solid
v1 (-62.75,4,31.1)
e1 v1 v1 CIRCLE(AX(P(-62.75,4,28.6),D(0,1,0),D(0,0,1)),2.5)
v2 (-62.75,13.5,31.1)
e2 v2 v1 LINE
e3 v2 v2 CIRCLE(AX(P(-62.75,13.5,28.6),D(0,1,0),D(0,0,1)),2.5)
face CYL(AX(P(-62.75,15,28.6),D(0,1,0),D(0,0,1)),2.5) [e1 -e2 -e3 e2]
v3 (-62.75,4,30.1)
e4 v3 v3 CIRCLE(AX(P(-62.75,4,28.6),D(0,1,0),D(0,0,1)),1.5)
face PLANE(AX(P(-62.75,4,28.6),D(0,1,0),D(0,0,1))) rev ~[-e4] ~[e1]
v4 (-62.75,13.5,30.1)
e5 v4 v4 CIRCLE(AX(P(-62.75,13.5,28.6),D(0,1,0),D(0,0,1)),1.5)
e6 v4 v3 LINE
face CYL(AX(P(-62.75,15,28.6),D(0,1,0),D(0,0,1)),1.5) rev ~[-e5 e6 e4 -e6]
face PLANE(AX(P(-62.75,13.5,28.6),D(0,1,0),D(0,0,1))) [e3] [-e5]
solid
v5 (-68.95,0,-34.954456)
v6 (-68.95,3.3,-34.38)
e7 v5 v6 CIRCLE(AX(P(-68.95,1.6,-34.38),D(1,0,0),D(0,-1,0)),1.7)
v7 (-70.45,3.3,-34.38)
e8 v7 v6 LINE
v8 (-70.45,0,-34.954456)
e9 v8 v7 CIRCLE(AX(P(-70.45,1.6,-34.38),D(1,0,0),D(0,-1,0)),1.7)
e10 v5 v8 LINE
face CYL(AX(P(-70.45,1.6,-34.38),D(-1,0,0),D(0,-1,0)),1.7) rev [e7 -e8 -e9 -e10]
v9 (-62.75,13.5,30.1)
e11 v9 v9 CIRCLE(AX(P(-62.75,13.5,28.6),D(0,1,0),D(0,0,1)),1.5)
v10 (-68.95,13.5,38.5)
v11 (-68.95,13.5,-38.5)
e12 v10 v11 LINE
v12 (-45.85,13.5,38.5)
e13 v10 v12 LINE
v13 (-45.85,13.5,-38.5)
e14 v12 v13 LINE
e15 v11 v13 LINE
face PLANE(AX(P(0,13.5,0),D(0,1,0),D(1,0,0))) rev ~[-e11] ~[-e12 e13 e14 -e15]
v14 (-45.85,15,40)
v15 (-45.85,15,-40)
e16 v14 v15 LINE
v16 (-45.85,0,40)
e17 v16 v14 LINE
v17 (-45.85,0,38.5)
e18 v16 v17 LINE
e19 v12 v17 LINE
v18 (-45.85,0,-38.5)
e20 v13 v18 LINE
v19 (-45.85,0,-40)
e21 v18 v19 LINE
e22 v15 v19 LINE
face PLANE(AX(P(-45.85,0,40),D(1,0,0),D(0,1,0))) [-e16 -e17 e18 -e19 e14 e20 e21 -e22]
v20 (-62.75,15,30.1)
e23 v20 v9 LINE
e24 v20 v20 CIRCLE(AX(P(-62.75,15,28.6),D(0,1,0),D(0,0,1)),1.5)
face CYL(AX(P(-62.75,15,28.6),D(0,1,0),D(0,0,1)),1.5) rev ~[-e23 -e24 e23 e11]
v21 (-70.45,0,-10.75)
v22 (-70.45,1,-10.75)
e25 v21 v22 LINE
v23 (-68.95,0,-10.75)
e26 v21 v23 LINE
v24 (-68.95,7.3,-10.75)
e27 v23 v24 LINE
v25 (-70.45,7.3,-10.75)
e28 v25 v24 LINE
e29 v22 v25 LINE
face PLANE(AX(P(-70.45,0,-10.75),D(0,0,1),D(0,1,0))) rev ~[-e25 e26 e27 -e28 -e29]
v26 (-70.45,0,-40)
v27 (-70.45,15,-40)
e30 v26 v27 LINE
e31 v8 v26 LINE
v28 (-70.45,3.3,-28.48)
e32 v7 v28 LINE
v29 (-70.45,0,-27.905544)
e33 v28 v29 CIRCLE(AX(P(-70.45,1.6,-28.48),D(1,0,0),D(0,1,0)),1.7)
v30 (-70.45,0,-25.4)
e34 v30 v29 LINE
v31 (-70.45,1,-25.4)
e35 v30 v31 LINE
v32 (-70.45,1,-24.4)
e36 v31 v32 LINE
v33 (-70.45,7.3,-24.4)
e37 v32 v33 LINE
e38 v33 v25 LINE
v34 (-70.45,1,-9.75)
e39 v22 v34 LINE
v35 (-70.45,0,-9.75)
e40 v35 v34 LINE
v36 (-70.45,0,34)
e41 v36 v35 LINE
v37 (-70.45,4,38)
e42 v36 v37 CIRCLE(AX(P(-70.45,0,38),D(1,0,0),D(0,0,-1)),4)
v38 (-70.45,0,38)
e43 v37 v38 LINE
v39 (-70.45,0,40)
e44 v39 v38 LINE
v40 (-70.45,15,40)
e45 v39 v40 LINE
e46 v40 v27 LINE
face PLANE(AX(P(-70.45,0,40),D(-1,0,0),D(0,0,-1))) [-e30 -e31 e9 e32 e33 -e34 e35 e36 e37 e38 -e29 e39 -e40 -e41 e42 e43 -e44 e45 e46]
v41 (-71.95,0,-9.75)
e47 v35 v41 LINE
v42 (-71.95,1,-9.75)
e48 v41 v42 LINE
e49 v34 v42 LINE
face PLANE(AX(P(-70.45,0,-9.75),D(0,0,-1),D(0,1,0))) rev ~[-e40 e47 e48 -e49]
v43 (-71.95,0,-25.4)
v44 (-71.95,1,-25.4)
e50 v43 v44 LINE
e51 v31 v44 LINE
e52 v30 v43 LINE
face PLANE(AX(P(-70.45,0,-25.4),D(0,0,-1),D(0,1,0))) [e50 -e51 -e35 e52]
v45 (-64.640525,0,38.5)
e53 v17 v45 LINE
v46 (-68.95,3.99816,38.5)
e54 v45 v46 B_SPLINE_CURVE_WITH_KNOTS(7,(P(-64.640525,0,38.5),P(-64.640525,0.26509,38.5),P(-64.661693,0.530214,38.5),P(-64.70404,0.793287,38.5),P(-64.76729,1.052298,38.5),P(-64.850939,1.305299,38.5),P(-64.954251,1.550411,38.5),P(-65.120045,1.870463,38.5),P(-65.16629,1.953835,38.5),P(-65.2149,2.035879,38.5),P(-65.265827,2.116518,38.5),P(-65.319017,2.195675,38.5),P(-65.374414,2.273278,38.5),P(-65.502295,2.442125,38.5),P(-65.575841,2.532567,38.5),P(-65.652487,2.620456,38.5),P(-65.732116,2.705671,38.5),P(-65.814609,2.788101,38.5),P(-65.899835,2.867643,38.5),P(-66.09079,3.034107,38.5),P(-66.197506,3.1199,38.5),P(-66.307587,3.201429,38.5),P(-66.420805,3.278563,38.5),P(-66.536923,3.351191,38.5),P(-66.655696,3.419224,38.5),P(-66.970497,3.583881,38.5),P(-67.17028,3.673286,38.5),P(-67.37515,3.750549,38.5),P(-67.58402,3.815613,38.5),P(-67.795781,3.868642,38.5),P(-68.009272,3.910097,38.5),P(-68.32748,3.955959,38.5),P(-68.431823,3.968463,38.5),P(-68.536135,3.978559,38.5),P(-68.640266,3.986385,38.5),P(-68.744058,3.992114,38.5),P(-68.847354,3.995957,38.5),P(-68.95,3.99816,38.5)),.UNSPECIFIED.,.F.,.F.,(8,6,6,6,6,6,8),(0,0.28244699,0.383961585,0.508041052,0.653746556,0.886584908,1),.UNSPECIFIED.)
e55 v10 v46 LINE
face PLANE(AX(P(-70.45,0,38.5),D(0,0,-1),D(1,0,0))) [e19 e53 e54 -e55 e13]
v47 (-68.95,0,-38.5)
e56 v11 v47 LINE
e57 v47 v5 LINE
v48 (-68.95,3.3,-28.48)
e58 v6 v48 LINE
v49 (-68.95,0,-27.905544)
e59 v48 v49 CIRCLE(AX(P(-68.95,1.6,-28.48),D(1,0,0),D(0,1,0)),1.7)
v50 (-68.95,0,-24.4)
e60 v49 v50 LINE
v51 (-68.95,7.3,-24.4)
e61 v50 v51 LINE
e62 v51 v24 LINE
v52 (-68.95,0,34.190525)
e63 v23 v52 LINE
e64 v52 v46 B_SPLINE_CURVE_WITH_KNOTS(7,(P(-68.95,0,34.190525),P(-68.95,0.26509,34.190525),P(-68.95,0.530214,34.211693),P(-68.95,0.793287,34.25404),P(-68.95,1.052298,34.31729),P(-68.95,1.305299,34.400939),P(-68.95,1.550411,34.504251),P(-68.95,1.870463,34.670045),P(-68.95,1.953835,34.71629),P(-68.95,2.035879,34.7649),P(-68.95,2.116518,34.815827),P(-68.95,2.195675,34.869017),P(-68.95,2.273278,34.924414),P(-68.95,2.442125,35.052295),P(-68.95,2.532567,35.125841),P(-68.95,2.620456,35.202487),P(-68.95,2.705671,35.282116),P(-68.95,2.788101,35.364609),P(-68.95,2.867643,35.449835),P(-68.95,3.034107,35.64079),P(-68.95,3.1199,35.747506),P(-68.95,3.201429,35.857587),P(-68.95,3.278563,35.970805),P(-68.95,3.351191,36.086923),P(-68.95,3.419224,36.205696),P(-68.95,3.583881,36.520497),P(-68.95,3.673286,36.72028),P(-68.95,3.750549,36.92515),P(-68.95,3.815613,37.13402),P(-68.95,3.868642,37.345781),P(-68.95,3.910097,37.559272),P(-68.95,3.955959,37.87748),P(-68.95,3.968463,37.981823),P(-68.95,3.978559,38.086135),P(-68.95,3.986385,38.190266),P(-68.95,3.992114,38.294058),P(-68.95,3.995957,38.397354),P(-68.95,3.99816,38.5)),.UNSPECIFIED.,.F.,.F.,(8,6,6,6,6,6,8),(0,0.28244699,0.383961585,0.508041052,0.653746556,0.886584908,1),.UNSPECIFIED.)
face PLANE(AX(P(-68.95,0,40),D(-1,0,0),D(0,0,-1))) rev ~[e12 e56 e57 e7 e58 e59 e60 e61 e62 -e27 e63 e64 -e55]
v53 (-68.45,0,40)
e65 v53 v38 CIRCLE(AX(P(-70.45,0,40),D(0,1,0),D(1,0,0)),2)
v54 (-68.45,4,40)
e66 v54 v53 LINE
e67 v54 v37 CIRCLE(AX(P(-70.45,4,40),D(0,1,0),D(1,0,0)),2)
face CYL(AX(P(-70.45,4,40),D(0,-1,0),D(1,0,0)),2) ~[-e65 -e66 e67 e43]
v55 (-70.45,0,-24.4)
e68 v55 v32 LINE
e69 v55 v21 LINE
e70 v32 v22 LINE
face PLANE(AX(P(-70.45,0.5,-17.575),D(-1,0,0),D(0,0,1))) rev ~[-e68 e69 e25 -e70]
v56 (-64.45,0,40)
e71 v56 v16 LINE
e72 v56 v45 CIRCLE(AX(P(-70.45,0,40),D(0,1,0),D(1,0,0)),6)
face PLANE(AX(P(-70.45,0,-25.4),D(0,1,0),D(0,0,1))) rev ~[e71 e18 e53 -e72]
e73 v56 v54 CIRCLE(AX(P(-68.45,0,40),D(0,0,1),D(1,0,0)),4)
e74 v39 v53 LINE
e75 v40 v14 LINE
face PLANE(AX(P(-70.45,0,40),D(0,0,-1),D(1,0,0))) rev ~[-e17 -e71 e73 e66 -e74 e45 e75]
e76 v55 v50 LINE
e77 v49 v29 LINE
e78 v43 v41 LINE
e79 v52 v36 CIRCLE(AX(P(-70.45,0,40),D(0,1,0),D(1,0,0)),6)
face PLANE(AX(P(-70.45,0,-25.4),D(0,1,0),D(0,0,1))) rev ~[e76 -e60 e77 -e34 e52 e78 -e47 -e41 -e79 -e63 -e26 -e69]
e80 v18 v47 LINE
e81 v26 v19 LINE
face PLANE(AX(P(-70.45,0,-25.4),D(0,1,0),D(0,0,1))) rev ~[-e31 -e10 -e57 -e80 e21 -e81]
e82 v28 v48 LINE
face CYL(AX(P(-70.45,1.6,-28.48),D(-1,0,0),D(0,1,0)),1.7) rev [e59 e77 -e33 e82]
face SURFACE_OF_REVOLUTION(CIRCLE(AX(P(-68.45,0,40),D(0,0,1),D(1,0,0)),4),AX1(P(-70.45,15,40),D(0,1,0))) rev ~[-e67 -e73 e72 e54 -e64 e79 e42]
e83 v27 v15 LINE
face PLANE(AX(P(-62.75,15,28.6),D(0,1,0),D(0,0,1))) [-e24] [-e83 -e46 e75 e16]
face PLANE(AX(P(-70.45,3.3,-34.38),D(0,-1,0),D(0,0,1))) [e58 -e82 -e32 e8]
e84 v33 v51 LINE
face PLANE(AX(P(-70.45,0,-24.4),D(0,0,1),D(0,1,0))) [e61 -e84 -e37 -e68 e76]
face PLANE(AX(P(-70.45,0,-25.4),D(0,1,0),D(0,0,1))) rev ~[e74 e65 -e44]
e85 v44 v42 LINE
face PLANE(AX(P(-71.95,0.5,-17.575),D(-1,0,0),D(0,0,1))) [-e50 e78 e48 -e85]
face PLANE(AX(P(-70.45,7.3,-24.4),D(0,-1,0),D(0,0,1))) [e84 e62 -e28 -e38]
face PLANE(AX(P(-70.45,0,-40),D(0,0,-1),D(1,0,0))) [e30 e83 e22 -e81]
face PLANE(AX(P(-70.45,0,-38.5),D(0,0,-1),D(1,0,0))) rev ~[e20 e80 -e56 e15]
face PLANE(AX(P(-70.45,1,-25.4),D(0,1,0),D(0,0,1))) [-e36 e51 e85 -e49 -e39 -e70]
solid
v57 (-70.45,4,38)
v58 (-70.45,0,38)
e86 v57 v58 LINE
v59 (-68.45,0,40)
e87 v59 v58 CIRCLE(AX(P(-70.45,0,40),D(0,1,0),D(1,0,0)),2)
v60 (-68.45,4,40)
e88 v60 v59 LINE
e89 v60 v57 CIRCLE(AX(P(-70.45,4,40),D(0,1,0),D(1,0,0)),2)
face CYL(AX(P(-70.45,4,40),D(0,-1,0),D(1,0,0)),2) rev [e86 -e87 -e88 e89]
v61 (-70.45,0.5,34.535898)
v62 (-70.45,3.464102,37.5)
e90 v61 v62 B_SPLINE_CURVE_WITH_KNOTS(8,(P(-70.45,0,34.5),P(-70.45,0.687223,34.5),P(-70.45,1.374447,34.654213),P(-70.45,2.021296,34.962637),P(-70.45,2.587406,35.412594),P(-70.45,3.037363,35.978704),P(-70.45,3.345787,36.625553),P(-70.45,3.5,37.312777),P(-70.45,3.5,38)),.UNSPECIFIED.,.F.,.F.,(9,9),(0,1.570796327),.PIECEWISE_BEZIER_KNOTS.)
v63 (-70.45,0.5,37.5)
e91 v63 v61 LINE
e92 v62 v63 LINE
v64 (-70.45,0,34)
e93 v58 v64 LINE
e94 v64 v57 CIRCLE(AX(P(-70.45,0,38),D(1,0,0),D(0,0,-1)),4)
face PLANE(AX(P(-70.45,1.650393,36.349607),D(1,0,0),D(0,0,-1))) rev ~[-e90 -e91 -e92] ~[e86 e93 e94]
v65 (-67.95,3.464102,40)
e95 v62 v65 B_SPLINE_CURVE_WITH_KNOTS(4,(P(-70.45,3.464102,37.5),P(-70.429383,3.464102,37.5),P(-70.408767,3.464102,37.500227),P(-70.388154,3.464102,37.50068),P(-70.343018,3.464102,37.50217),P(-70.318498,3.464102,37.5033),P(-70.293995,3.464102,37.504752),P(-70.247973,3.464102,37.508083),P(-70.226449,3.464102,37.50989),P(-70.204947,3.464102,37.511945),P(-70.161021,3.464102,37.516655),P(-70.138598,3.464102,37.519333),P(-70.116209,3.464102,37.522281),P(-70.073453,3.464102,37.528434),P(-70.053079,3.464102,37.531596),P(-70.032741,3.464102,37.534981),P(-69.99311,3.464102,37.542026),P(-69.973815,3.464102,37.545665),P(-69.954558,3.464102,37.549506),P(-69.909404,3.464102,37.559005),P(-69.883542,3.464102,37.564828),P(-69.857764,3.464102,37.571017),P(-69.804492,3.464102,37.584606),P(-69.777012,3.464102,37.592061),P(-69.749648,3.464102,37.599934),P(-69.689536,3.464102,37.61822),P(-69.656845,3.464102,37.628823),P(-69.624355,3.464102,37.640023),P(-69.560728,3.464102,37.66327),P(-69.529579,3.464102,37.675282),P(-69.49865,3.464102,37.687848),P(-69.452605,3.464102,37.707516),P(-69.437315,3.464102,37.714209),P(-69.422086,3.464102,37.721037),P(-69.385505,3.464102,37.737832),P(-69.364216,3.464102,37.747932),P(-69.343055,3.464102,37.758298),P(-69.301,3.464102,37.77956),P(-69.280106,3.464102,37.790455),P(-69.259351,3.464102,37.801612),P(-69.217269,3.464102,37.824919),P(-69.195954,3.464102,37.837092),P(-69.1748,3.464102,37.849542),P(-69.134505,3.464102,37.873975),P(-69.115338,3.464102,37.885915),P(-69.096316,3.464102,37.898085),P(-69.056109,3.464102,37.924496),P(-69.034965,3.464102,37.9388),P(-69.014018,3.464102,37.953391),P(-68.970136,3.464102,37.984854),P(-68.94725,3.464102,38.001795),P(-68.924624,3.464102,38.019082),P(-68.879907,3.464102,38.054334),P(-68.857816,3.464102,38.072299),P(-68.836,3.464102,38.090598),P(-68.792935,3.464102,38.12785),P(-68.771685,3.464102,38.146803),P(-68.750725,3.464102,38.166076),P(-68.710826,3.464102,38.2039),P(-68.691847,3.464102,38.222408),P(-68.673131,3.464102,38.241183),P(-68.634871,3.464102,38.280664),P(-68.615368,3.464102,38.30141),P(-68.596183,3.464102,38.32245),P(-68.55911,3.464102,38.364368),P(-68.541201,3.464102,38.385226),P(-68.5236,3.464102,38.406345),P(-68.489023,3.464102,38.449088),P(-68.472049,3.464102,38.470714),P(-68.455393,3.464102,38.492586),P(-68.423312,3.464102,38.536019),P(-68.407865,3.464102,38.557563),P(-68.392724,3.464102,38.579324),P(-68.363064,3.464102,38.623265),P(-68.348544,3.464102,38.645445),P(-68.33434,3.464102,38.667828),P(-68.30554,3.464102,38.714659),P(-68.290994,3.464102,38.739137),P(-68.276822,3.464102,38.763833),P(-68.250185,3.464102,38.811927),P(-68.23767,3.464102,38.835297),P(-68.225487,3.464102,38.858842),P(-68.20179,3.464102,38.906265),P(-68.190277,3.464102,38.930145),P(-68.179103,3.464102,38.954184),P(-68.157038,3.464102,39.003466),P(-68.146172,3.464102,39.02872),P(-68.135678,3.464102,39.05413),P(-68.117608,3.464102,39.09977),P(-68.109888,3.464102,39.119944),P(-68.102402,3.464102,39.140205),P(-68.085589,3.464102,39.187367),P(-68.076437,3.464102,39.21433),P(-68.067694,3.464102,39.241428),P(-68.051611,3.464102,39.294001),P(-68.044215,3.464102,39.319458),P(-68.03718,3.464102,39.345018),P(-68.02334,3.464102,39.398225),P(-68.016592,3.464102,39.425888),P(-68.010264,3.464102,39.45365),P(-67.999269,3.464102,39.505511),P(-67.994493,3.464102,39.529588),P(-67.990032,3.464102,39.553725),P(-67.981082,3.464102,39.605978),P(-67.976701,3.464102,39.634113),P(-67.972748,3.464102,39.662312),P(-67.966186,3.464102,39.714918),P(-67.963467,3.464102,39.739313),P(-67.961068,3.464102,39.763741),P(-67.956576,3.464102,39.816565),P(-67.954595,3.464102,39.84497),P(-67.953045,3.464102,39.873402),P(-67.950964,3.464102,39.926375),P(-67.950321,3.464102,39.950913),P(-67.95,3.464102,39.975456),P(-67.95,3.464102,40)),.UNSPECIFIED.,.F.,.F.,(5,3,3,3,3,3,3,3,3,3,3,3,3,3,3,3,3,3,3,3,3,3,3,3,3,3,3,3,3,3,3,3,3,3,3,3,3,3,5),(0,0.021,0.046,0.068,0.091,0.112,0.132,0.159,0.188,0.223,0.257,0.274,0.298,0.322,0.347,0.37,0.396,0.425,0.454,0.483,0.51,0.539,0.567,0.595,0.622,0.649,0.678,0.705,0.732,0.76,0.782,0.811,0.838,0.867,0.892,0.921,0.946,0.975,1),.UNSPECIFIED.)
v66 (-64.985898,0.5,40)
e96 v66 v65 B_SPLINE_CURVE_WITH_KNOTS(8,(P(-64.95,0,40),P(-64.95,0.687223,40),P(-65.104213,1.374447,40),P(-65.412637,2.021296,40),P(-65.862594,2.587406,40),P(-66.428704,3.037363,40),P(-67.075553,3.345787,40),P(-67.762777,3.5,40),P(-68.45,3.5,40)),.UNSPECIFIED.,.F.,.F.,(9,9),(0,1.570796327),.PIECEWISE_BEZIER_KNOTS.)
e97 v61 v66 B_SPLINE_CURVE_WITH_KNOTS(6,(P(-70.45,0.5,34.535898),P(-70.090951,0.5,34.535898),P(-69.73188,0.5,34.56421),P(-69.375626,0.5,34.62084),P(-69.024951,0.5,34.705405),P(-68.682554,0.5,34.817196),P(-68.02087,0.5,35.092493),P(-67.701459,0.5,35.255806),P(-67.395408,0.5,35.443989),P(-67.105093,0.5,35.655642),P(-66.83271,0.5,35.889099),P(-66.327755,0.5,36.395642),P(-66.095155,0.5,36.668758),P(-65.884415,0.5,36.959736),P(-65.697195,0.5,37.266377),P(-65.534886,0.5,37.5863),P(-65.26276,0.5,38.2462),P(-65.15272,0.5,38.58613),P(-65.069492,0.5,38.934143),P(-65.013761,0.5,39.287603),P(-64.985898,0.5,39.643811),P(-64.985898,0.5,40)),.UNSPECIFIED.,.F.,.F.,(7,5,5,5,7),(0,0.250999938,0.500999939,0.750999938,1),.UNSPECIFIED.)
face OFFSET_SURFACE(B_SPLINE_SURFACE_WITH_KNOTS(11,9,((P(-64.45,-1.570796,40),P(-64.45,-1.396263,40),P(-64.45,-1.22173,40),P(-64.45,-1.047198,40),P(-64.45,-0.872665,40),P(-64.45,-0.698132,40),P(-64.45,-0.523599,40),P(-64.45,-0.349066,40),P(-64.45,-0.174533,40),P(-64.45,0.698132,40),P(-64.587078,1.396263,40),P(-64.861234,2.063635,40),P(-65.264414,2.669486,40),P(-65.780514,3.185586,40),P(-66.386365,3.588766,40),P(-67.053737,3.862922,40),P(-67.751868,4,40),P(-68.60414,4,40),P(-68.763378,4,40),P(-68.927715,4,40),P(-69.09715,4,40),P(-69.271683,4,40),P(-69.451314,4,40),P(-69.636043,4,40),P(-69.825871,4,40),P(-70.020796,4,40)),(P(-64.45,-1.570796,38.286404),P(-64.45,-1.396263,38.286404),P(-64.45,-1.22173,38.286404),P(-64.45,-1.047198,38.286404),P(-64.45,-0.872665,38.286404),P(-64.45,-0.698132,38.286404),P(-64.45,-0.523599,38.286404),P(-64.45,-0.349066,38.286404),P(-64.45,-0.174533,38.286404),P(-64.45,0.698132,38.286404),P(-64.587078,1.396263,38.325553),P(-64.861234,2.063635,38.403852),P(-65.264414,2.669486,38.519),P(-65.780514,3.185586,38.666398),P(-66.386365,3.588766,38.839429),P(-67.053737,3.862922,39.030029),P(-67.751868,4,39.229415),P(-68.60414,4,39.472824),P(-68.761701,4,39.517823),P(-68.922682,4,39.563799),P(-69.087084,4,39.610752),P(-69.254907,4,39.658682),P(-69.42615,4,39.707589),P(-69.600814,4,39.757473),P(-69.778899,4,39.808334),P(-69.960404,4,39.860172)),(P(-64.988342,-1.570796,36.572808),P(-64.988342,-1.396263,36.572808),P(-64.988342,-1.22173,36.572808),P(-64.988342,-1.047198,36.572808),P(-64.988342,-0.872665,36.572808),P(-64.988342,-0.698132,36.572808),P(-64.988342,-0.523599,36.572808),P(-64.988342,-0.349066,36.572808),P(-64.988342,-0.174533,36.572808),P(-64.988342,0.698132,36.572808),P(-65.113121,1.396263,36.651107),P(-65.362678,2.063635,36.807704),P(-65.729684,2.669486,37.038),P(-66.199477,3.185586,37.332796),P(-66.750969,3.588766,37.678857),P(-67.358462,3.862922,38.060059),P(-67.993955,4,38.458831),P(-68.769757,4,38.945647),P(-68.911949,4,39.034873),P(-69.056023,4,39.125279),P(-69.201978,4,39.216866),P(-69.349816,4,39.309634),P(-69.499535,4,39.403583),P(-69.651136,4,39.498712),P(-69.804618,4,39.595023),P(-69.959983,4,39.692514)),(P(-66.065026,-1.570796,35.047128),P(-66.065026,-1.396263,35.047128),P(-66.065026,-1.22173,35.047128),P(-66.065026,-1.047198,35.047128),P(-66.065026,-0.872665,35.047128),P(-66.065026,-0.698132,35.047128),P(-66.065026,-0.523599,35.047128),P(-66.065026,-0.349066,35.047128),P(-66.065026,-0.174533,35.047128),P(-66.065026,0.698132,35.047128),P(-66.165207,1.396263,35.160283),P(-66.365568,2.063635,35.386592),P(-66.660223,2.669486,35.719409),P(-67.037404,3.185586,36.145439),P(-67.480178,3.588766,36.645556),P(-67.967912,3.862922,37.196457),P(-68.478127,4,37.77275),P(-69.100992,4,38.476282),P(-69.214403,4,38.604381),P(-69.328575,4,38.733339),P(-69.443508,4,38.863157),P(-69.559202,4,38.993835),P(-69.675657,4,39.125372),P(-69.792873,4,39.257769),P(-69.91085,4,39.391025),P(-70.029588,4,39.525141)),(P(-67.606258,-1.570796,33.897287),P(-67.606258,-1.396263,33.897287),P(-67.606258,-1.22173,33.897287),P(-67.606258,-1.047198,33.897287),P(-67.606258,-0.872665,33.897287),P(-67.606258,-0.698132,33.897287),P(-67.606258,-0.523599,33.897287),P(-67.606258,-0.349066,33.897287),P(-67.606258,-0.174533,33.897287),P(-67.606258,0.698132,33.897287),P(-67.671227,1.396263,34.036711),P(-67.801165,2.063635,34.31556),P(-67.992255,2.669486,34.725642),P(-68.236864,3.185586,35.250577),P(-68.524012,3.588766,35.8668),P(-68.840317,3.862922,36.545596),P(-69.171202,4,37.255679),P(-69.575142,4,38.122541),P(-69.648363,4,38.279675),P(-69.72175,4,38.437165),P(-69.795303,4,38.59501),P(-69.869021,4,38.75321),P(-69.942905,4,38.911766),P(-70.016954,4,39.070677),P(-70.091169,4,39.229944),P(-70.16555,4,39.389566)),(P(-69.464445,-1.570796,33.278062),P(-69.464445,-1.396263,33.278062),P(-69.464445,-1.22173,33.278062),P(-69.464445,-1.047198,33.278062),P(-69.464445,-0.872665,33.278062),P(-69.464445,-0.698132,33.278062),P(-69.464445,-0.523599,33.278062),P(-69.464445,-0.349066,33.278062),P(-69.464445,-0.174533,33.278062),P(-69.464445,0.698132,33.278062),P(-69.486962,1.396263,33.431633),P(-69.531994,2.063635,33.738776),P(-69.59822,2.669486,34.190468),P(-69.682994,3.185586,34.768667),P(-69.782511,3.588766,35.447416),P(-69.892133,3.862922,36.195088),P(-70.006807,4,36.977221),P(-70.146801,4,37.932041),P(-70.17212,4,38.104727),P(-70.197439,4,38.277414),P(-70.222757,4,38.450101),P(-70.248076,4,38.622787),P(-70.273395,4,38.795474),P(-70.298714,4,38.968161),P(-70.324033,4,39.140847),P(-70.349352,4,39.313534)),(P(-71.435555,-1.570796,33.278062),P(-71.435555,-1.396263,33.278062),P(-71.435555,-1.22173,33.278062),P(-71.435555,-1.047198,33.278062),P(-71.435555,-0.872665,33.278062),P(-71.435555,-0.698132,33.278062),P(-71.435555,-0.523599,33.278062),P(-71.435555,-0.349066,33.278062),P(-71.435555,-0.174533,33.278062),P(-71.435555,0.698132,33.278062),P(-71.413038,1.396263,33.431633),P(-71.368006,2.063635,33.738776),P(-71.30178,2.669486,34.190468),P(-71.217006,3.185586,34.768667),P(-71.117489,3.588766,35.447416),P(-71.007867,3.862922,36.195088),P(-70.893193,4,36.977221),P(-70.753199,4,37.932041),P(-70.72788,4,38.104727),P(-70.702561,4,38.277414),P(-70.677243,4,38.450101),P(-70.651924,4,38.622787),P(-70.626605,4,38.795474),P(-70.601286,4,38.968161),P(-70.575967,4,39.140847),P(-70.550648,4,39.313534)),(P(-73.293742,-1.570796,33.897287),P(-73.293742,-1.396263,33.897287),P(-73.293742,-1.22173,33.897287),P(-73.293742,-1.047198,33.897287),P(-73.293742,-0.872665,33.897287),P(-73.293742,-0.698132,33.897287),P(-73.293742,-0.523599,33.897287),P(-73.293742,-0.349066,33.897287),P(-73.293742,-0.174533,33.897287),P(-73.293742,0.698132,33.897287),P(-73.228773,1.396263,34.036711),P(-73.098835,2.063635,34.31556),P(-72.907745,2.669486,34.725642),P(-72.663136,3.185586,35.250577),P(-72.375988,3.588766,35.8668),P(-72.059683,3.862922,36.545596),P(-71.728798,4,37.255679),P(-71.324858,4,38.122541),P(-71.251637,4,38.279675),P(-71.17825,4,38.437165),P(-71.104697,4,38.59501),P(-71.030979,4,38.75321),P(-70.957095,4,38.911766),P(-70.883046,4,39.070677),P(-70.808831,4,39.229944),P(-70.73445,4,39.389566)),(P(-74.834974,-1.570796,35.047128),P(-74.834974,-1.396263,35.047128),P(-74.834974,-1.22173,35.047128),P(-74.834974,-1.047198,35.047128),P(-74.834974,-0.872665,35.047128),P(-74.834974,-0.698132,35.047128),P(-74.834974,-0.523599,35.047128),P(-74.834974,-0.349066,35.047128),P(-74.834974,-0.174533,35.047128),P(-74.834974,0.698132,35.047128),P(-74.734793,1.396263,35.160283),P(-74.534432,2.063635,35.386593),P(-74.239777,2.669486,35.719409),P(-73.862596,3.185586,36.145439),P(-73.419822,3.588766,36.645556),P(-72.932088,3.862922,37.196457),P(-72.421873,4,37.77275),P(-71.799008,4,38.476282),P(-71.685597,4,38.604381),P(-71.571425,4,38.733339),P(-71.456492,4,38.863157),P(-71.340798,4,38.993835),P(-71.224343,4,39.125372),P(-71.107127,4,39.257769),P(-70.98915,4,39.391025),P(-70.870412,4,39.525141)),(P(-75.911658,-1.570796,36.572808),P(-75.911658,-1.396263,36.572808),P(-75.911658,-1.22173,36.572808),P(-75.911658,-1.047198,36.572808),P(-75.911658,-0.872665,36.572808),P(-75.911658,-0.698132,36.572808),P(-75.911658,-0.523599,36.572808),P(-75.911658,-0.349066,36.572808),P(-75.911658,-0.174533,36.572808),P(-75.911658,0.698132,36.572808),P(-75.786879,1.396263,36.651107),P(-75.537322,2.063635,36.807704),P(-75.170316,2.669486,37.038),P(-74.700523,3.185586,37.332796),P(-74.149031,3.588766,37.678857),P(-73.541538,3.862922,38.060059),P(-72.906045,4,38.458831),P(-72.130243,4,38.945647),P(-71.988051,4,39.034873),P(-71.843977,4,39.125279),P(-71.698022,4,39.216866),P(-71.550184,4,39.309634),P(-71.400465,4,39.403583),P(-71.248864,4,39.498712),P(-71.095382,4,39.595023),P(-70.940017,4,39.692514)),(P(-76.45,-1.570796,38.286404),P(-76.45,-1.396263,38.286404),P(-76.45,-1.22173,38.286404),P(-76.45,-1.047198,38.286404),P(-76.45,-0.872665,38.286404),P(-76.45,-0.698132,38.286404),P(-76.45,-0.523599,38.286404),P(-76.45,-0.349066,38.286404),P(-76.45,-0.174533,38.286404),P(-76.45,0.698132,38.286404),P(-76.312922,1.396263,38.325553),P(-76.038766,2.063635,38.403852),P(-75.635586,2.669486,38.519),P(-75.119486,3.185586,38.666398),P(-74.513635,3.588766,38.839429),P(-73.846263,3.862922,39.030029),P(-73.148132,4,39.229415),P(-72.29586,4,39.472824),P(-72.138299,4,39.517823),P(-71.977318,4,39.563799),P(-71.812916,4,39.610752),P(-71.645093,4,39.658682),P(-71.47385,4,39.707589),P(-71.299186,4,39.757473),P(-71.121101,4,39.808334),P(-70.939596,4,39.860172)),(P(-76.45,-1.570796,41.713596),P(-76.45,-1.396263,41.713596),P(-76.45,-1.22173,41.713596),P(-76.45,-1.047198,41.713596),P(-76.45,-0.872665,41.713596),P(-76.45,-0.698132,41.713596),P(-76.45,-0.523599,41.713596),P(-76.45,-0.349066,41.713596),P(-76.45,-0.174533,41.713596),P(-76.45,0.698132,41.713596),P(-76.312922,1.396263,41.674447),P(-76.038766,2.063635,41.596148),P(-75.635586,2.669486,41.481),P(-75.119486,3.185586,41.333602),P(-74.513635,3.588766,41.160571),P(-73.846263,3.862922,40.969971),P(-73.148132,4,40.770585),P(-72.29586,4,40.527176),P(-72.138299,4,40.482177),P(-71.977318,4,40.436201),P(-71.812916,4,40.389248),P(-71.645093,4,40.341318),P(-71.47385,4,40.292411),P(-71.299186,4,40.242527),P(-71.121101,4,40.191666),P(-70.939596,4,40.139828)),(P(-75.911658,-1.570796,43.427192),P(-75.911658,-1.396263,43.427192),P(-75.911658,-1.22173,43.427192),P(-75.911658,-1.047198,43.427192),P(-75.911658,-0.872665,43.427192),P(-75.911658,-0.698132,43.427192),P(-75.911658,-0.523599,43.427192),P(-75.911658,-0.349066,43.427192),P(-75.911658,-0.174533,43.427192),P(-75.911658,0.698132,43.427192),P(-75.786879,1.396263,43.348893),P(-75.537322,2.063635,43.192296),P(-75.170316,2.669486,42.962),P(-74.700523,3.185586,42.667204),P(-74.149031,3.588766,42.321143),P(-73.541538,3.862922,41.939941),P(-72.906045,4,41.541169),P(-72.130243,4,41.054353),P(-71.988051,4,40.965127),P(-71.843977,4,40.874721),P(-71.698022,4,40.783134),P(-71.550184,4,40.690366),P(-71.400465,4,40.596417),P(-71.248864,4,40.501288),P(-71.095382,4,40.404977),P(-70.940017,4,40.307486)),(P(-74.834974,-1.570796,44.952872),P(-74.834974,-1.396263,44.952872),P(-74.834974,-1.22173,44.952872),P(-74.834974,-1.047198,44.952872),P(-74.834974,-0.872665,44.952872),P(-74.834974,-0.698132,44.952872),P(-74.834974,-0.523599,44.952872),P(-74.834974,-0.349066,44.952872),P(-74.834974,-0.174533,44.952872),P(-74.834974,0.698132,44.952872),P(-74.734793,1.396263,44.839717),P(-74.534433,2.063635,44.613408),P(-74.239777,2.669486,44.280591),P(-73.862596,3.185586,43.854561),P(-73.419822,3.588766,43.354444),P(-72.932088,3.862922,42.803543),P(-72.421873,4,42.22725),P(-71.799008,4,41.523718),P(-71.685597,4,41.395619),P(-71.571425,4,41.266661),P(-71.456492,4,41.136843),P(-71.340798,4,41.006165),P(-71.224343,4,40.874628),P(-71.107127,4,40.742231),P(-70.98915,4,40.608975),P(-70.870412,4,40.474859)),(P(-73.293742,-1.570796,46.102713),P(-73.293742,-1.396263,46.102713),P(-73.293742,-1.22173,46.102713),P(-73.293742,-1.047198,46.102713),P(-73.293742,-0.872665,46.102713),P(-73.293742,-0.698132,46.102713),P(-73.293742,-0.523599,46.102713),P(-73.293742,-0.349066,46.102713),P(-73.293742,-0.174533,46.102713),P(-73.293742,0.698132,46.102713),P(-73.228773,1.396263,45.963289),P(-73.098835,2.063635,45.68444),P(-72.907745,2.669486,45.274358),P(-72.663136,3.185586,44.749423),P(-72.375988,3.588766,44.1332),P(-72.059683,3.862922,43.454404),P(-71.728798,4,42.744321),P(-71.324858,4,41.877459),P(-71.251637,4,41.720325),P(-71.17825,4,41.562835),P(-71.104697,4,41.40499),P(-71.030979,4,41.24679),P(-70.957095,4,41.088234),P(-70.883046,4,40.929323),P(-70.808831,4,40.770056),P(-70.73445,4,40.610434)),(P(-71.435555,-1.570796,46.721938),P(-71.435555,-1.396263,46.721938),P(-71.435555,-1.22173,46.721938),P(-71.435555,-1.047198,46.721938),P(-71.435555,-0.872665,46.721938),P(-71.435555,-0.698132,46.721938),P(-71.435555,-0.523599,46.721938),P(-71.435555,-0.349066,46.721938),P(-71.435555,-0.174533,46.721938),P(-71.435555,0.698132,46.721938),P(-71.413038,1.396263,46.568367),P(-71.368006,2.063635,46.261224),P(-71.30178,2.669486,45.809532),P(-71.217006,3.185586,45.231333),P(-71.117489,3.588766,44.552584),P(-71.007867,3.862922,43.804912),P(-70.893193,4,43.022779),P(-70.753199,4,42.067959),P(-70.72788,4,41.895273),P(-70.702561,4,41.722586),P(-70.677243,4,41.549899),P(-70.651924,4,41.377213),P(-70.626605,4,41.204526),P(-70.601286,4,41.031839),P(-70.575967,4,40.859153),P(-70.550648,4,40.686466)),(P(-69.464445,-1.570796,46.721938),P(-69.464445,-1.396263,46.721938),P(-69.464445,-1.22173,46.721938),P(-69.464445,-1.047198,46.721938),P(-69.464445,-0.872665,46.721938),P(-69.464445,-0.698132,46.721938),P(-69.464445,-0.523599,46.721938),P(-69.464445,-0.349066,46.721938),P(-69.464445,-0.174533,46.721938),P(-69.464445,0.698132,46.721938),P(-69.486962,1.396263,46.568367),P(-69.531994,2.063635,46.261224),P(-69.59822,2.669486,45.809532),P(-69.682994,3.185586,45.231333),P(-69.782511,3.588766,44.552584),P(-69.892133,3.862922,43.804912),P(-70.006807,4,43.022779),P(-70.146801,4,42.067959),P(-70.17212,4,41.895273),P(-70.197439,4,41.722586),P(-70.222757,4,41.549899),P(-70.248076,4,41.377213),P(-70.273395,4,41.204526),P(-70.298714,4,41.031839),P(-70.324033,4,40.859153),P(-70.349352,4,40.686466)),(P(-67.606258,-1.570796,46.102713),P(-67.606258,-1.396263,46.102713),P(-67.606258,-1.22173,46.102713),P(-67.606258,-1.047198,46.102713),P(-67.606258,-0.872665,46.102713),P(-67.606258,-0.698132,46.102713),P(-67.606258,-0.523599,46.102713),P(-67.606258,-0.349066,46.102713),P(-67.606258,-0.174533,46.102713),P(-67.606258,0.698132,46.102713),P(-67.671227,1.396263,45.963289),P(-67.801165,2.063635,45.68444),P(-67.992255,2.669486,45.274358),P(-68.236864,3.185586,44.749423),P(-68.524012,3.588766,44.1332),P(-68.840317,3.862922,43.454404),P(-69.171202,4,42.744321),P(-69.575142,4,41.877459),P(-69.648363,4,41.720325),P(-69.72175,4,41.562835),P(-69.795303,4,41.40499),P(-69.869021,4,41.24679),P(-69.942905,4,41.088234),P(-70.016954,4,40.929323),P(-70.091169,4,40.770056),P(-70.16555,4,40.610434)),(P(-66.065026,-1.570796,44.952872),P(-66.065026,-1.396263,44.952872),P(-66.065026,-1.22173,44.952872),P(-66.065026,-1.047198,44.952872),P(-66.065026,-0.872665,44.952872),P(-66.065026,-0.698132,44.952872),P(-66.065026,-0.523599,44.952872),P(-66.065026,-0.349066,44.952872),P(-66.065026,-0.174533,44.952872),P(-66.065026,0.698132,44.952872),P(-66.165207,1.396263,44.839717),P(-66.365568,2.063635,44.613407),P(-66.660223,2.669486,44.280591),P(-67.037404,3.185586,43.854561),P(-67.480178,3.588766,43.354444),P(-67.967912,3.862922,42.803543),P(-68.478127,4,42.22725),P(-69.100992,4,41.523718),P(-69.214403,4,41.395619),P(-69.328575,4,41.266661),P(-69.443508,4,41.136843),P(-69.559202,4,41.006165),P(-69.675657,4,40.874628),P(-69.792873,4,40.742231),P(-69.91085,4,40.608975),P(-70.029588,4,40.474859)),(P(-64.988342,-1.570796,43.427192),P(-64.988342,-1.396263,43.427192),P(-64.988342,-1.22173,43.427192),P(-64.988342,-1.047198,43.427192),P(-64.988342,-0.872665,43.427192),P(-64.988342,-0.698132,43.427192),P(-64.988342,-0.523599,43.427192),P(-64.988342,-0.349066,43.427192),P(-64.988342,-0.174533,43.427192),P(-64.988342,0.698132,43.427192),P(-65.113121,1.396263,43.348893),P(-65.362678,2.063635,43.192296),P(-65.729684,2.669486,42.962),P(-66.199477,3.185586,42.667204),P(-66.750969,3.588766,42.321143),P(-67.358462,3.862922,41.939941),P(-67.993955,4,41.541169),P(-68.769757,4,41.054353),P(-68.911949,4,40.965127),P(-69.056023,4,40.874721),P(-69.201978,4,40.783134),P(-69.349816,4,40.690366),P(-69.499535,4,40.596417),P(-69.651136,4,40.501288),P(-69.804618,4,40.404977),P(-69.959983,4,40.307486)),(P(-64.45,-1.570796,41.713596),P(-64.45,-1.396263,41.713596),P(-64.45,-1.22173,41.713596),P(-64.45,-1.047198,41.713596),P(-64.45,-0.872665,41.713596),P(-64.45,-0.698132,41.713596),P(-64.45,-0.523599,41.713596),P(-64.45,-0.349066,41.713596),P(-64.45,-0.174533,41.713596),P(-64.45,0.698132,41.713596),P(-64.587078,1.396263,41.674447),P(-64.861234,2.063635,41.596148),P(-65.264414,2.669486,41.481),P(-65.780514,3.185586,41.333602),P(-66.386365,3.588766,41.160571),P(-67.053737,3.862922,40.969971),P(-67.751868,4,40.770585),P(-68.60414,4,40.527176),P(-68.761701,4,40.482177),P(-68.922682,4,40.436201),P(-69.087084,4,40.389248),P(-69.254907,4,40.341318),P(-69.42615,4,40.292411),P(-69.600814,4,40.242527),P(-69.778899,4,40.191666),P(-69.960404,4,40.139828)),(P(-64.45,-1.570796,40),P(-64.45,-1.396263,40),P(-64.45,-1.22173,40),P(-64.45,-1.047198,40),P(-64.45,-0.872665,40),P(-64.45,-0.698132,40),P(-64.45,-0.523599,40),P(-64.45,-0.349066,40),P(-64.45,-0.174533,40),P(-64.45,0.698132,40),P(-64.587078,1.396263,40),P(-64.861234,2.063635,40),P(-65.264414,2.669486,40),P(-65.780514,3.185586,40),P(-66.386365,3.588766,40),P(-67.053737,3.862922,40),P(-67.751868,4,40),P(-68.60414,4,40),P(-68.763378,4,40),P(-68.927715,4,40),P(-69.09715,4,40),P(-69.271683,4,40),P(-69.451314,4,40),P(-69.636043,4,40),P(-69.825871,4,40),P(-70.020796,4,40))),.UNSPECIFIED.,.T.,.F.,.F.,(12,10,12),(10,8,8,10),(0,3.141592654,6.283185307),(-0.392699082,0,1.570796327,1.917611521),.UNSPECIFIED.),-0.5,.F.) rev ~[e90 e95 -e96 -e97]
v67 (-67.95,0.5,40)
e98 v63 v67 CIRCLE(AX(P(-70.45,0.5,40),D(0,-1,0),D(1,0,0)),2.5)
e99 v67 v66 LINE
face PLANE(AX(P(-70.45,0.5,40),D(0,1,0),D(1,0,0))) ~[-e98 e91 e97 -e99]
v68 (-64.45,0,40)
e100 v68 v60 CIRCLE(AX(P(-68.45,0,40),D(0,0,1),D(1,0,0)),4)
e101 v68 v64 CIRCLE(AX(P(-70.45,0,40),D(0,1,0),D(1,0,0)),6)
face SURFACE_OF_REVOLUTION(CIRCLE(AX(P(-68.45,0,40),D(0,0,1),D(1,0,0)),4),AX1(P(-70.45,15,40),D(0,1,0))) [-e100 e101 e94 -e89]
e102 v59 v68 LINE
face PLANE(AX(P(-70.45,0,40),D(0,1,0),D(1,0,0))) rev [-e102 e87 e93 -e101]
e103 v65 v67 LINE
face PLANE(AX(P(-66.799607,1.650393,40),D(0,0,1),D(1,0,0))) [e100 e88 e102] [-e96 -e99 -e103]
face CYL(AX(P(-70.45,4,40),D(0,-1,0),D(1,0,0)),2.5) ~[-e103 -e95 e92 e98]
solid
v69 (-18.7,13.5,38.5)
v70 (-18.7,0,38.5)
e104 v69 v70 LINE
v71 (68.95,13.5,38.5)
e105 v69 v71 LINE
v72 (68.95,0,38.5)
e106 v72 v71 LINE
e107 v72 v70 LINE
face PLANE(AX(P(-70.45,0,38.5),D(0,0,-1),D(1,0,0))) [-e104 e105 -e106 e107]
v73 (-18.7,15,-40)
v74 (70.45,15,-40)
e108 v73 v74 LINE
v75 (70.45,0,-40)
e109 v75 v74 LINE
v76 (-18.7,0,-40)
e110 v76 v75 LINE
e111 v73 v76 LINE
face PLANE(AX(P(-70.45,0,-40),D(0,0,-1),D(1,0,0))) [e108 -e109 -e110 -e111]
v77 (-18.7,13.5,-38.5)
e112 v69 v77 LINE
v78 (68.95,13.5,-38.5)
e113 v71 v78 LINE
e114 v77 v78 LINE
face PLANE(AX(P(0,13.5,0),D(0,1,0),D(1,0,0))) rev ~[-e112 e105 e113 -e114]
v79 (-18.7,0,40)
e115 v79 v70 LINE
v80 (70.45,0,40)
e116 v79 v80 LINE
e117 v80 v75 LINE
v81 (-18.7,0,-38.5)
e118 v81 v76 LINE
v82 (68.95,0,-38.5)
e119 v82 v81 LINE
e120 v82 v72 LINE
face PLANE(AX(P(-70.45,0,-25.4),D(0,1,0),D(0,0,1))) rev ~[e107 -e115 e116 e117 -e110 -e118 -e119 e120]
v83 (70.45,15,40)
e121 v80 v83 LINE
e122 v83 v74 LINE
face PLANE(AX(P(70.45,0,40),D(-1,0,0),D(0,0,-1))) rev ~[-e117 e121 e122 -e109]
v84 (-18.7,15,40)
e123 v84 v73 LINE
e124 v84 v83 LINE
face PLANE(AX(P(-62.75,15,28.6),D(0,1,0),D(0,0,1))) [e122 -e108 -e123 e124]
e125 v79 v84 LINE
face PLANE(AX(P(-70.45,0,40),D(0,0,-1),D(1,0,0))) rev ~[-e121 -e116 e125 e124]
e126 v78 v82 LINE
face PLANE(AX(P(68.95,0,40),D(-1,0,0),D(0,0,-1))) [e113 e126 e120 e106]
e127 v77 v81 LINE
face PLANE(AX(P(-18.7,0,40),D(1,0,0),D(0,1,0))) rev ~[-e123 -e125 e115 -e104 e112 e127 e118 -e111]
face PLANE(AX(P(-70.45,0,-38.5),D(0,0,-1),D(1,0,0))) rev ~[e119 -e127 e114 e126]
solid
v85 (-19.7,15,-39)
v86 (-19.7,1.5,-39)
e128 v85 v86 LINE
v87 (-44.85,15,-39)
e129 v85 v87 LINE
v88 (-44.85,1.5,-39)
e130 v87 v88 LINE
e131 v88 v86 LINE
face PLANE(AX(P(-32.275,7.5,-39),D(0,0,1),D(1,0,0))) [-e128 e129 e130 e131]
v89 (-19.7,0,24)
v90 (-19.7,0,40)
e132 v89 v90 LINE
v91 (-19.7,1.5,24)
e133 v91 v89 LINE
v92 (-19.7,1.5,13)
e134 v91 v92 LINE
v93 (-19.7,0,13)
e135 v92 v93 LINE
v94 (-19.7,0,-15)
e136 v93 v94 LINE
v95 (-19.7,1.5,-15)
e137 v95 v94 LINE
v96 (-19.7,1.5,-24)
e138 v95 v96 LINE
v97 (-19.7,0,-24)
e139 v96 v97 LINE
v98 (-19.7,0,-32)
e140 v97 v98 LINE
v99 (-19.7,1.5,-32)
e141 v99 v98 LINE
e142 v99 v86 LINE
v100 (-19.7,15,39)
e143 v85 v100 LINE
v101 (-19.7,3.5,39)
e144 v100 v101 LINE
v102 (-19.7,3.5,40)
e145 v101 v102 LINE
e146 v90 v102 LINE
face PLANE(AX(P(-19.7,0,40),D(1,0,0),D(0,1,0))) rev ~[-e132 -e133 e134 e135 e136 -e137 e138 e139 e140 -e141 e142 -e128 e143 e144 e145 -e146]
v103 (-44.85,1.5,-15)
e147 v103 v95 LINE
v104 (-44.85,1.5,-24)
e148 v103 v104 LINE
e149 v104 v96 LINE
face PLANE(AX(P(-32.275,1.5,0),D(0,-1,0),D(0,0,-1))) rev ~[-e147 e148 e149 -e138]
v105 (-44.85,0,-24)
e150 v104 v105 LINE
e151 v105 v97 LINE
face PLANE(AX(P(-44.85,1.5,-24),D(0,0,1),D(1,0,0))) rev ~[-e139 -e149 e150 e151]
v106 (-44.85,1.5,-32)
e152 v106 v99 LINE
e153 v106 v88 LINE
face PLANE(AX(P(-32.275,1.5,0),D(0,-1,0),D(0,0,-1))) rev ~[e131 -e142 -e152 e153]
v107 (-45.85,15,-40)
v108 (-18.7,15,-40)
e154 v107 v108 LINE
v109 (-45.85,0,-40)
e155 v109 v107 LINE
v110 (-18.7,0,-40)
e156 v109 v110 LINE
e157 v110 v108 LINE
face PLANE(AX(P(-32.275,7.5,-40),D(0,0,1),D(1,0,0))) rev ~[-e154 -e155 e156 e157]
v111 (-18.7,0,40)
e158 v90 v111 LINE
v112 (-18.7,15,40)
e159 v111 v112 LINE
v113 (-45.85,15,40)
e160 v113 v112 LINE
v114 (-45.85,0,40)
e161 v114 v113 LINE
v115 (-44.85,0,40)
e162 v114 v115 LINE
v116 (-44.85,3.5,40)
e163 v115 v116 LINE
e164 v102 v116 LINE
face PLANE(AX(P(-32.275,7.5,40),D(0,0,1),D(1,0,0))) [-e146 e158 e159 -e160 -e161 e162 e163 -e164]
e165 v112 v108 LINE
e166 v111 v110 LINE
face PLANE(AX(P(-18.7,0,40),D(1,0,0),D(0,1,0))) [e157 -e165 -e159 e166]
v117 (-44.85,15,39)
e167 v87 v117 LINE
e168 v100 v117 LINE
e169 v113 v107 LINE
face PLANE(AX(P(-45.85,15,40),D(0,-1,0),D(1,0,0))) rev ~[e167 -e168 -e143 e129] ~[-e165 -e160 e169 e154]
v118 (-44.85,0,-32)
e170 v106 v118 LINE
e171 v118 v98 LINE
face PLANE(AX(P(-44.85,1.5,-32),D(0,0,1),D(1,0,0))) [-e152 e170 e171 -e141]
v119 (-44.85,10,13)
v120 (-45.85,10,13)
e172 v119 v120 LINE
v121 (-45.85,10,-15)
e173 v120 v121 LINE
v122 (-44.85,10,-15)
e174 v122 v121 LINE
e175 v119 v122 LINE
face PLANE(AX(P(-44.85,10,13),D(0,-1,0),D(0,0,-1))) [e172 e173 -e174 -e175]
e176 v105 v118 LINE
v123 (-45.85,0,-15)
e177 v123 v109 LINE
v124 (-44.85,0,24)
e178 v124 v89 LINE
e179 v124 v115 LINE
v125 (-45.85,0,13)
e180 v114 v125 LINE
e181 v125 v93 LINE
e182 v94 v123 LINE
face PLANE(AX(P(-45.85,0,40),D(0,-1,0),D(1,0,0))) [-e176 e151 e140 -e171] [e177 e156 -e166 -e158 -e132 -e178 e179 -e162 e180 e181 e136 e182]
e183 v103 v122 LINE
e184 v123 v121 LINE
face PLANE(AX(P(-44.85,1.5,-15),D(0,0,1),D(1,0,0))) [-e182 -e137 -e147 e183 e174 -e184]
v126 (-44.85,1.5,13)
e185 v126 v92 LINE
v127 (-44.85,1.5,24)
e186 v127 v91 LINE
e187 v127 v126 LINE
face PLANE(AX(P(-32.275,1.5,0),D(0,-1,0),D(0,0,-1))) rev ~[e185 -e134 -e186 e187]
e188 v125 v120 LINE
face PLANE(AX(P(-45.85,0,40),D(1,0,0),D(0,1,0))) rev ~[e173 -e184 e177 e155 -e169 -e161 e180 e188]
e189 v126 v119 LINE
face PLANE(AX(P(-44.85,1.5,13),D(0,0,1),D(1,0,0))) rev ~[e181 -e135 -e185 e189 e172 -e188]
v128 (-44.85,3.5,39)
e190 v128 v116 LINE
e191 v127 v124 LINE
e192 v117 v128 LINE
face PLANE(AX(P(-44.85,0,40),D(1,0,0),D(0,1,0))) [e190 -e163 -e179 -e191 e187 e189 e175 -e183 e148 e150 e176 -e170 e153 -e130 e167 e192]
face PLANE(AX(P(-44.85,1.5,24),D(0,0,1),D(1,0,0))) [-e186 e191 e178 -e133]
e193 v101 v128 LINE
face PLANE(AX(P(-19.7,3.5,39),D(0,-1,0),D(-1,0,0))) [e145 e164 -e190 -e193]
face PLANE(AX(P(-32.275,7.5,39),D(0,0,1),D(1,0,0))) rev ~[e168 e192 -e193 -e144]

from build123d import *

# Parameters (mm, degrees)
SKETCH1_W                  = 140.9
SKETCH1_H                  = 80
BOSS_EXTRUDE1_DEPTH        = 15
SHELL3_T                   = -1.5
CUT_EXTRUDE2_DEPTH         = 1.5
SKETCH6_W                  = 13.65
SKETCH6_H                  = 7.3
CUT_EXTRUDE3_DEPTH         = 1.5
SKETCH9_W                  = 15.65
SKETCH9_H                  = 1
BOSS_EXTRUDE2_DEPTH        = 1.5
SKETCH11_R                 = 1.5
BOSS_EXTRUDE10_DEPTH       = 11
SKETCH11_3_R               = 1.5
CUT_EXTRUDE10_DEPTH        = 1.5
SHELL9_T                   = 1
CUT_REVOLVE4_ANGLE         = 90
REVOLVE3_ANGLE             = 90
SHELL14_T                  = -0.5
SKETCH47_W                 = 27.15
SKETCH47_H                 = 15
CUT_EXTRUDE15_DEPTH        = 109.636101274
SKETCH47_2_W               = 27.15
SKETCH47_2_H               = 15
BOSS_EXTRUDE12_DEPTH       = 80
SHELL15_T                  = -1
SHELL15_THICKNESS_2_FACE_W = 78
SHELL15_THICKNESS_2_FACE_H = 25.15
SHELL15_THICKNESS_2_DEPTH  = 0.5
SKETCH52_W                 = 25.15
SKETCH52_H                 = 3.5
CUT_EXTRUDE21_DEPTH        = 1
SKETCH54_W                 = 28
SKETCH54_H                 = 10
CUT_EXTRUDE22_DEPTH        = 1
SKETCH55_W                 = 25.15
SKETCH55_H                 = 15
SKETCH55_H_2               = 28
SKETCH55_H_3               = 8
CUT_EXTRUDE23_DEPTH        = 1.5


with BuildPart() as part:
    # Sketch1 → Boss-Extrude1 (new body)
    with BuildSketch(Plane(origin=(0, 0, 0), x_dir=(1, 0, 0), z_dir=(0, 1, 0))):
        Rectangle(SKETCH1_W, SKETCH1_H)
    extrude(amount=BOSS_EXTRUDE1_DEPTH)

    # Shell3
    shell3_openings = [part.faces().sort_by_distance(p)[0] for p in [
        (0, 0, 0),
    ]]
    offset(amount=SHELL3_T, openings=shell3_openings, kind=Kind.INTERSECTION)

    # Sketch4 → Cut-Extrude2 (cut)
    with BuildSketch(Plane.ZY.offset(70.45)):
        with BuildLine():
            Line((-34.38, 3.3), (-28.48, 3.3))
            ThreePointArc((-28.48, 3.3), (-26.78, 1.6), (-28.48, -0.1))
            Line((-28.48, -0.1), (-34.38, -0.1))
            ThreePointArc((-34.38, -0.1), (-36.08, 1.6), (-34.38, 3.3))
        make_face()
    extrude(amount=-CUT_EXTRUDE2_DEPTH, mode=Mode.SUBTRACT)

    # Sketch6 → Cut-Extrude3 (cut)
    with BuildSketch(Plane.ZY.offset(70.45)):
        with Locations((-17.575, 3.65)):
            Rectangle(SKETCH6_W, SKETCH6_H)
    extrude(amount=-CUT_EXTRUDE3_DEPTH, mode=Mode.SUBTRACT)

    # Sketch9 → Boss-Extrude2 (add)
    with BuildSketch(Plane.ZY.offset(70.45)):
        with Locations((-17.575, 0.5)):
            Rectangle(SKETCH9_W, SKETCH9_H)
    extrude(amount=BOSS_EXTRUDE2_DEPTH)

    # Sketch11 → Boss-Extrude10 (add)
    with BuildSketch(Plane(origin=(0, 15, 0), x_dir=(1, 0, 0), z_dir=(0, 1, 0))):
        with Locations(Location((-62.75, -28.6, 0), (0, 0, 270))):
            Circle(SKETCH11_R)
    extrude(amount=-BOSS_EXTRUDE10_DEPTH)

    # Sketch11<3> → Cut-Extrude10 (cut)
    with BuildSketch(Plane(origin=(0, 15, 0), x_dir=(1, 0, 0), z_dir=(0, 1, 0))):
        with Locations(Location((-62.75, -28.6, 0), (0, 0, 270))):
            Circle(SKETCH11_3_R)
    extrude(amount=-CUT_EXTRUDE10_DEPTH, mode=Mode.SUBTRACT)


with BuildPart() as cut_extrude10_piece_1:
    # of the separate pieces the step leaves, piece 1, a body of its own (cut_extrude10_pieces)
    add(part.part.solids().sort_by_distance((-70.45, 0, 40))[0])

    # Sketch33 → Cut-Revolve4 (revolve, cut)
    with BuildSketch(Plane.XY.offset(40)):
        with BuildLine():
            Line((-68.45, 4), (-68.45, 0))
            Line((-68.45, 0), (-64.45, 0))
            ThreePointArc((-64.45, 0), (-65.621572875, 2.828427125), (-68.45, 4))
        make_face()
    revolve(axis=Axis((-70.45, 15, 40), (0, 1, 0)), revolution_arc=CUT_REVOLVE4_ANGLE, mode=Mode.SUBTRACT)

    # Sketch47 → Cut-Extrude15 (cut, through all)
    with BuildSketch(Plane.XY.offset(40)):
        with Locations((-32.275, 7.5)):
            Rectangle(SKETCH47_W, SKETCH47_H)
    extrude(amount=-CUT_EXTRUDE15_DEPTH, mode=Mode.SUBTRACT)


with BuildPart() as cut_extrude10_piece_2:
    # of the separate pieces the step leaves, piece 2, a body of its own (cut_extrude10_pieces)
    add(part.part.solids().sort_by_distance((-62.75, 4, 30.1))[0])

    # Shell9
    shell9_openings = [cut_extrude10_piece_2.faces().sort_by_distance(p)[0] for p in [
        (-62.75, 4, 28.6),
        (-62.75, 13.5, 28.6),
    ]]
    offset(amount=SHELL9_T, openings=shell9_openings, kind=Kind.INTERSECTION)


with BuildPart() as body_3:
    # Sketch33<2> → Revolve3 (revolve)
    with BuildSketch(Plane.XY.offset(40)):
        with BuildLine():
            Line((-68.45, 4), (-68.45, 0))
            Line((-68.45, 0), (-64.45, 0))
            ThreePointArc((-64.45, 0), (-65.621572875, 2.828427125), (-68.45, 4))
        make_face()
    revolve(axis=Axis((-70.45, 15, 40), (0, 1, 0)), revolution_arc=REVOLVE3_ANGLE)

    # Shell14
    shell14_openings = [body_3.faces().sort_by_distance(p)[0] for p in [
        (-70.45, 1.697652726, 36.302347274),
        (-66.752347274, 1.697652726, 40),
    ]]
    offset(amount=SHELL14_T, openings=shell14_openings)


with BuildPart() as cut_extrude15_piece_1:
    # of the separate pieces the step leaves, piece 1, a body of its own (cut_extrude15_pieces)
    add(cut_extrude10_piece_1.part.solids().sort_by_distance((-18.7, 0, 40))[0])


with BuildPart() as cut_extrude15_piece_2:
    # of the separate pieces the step leaves, piece 2, a body of its own (cut_extrude15_pieces)
    add(cut_extrude10_piece_1.part.solids().sort_by_distance((-70.45, 0, 40))[0])


with BuildPart() as body_5:
    # Sketch47<2> → Boss-Extrude12 (new body)
    with BuildSketch(Plane.XY.offset(40)):
        with Locations((-32.275, 7.5)):
            Rectangle(SKETCH47_2_W, SKETCH47_2_H)
    extrude(amount=-BOSS_EXTRUDE12_DEPTH)

    # Shell15
    shell15_openings = [body_5.faces().sort_by_distance(p)[0] for p in [
        (-32.275, 15, 0),
    ]]
    offset(amount=SHELL15_T, openings=shell15_openings, kind=Kind.INTERSECTION)

    # Shell15 thickness 2 face (on inner face of the shell) → Shell15 thickness 2 (add)
    with BuildSketch(Plane(origin=(-32.275, 1, 0), x_dir=(0, 0, -1), z_dir=(0, -1, 0))):
        Rectangle(SHELL15_THICKNESS_2_FACE_W, SHELL15_THICKNESS_2_FACE_H)
    extrude(amount=-SHELL15_THICKNESS_2_DEPTH)

    # Sketch52 → Cut-Extrude21 (cut)
    with BuildSketch(Plane(origin=(0, 0, 39), x_dir=(-1, 0, 0), z_dir=(0, 0, -1))):
        with Locations((32.275, 1.75)):
            Rectangle(SKETCH52_W, SKETCH52_H)
    extrude(amount=-CUT_EXTRUDE21_DEPTH, mode=Mode.SUBTRACT)

    # Sketch54 → Cut-Extrude22 (cut)
    with BuildSketch(Plane(origin=(-44.85, 0, 0), x_dir=(0, 0, -1), z_dir=(1, 0, 0))):
        with Locations((1, 5)):
            Rectangle(SKETCH54_W, SKETCH54_H)
    extrude(amount=-CUT_EXTRUDE22_DEPTH, mode=Mode.SUBTRACT)

    # Sketch55 → Cut-Extrude23 (cut)
    with BuildSketch(Plane(origin=(0, 1.5, 0), x_dir=(1, 0, 0), z_dir=(0, 1, 0))):
        with Locations((-32.275, -31.5)):
            Rectangle(SKETCH55_W, SKETCH55_H)
        with Locations((-32.275, 1)):
            Rectangle(SKETCH55_W, SKETCH55_H_2)
        with Locations((-32.275, 28)):
            Rectangle(SKETCH55_W, SKETCH55_H_3)
    extrude(amount=-CUT_EXTRUDE23_DEPTH, mode=Mode.SUBTRACT)


solid = Compound([cut_extrude10_piece_2.part, body_3.part, cut_extrude15_piece_1.part, cut_extrude15_piece_2.part, body_5.part])
